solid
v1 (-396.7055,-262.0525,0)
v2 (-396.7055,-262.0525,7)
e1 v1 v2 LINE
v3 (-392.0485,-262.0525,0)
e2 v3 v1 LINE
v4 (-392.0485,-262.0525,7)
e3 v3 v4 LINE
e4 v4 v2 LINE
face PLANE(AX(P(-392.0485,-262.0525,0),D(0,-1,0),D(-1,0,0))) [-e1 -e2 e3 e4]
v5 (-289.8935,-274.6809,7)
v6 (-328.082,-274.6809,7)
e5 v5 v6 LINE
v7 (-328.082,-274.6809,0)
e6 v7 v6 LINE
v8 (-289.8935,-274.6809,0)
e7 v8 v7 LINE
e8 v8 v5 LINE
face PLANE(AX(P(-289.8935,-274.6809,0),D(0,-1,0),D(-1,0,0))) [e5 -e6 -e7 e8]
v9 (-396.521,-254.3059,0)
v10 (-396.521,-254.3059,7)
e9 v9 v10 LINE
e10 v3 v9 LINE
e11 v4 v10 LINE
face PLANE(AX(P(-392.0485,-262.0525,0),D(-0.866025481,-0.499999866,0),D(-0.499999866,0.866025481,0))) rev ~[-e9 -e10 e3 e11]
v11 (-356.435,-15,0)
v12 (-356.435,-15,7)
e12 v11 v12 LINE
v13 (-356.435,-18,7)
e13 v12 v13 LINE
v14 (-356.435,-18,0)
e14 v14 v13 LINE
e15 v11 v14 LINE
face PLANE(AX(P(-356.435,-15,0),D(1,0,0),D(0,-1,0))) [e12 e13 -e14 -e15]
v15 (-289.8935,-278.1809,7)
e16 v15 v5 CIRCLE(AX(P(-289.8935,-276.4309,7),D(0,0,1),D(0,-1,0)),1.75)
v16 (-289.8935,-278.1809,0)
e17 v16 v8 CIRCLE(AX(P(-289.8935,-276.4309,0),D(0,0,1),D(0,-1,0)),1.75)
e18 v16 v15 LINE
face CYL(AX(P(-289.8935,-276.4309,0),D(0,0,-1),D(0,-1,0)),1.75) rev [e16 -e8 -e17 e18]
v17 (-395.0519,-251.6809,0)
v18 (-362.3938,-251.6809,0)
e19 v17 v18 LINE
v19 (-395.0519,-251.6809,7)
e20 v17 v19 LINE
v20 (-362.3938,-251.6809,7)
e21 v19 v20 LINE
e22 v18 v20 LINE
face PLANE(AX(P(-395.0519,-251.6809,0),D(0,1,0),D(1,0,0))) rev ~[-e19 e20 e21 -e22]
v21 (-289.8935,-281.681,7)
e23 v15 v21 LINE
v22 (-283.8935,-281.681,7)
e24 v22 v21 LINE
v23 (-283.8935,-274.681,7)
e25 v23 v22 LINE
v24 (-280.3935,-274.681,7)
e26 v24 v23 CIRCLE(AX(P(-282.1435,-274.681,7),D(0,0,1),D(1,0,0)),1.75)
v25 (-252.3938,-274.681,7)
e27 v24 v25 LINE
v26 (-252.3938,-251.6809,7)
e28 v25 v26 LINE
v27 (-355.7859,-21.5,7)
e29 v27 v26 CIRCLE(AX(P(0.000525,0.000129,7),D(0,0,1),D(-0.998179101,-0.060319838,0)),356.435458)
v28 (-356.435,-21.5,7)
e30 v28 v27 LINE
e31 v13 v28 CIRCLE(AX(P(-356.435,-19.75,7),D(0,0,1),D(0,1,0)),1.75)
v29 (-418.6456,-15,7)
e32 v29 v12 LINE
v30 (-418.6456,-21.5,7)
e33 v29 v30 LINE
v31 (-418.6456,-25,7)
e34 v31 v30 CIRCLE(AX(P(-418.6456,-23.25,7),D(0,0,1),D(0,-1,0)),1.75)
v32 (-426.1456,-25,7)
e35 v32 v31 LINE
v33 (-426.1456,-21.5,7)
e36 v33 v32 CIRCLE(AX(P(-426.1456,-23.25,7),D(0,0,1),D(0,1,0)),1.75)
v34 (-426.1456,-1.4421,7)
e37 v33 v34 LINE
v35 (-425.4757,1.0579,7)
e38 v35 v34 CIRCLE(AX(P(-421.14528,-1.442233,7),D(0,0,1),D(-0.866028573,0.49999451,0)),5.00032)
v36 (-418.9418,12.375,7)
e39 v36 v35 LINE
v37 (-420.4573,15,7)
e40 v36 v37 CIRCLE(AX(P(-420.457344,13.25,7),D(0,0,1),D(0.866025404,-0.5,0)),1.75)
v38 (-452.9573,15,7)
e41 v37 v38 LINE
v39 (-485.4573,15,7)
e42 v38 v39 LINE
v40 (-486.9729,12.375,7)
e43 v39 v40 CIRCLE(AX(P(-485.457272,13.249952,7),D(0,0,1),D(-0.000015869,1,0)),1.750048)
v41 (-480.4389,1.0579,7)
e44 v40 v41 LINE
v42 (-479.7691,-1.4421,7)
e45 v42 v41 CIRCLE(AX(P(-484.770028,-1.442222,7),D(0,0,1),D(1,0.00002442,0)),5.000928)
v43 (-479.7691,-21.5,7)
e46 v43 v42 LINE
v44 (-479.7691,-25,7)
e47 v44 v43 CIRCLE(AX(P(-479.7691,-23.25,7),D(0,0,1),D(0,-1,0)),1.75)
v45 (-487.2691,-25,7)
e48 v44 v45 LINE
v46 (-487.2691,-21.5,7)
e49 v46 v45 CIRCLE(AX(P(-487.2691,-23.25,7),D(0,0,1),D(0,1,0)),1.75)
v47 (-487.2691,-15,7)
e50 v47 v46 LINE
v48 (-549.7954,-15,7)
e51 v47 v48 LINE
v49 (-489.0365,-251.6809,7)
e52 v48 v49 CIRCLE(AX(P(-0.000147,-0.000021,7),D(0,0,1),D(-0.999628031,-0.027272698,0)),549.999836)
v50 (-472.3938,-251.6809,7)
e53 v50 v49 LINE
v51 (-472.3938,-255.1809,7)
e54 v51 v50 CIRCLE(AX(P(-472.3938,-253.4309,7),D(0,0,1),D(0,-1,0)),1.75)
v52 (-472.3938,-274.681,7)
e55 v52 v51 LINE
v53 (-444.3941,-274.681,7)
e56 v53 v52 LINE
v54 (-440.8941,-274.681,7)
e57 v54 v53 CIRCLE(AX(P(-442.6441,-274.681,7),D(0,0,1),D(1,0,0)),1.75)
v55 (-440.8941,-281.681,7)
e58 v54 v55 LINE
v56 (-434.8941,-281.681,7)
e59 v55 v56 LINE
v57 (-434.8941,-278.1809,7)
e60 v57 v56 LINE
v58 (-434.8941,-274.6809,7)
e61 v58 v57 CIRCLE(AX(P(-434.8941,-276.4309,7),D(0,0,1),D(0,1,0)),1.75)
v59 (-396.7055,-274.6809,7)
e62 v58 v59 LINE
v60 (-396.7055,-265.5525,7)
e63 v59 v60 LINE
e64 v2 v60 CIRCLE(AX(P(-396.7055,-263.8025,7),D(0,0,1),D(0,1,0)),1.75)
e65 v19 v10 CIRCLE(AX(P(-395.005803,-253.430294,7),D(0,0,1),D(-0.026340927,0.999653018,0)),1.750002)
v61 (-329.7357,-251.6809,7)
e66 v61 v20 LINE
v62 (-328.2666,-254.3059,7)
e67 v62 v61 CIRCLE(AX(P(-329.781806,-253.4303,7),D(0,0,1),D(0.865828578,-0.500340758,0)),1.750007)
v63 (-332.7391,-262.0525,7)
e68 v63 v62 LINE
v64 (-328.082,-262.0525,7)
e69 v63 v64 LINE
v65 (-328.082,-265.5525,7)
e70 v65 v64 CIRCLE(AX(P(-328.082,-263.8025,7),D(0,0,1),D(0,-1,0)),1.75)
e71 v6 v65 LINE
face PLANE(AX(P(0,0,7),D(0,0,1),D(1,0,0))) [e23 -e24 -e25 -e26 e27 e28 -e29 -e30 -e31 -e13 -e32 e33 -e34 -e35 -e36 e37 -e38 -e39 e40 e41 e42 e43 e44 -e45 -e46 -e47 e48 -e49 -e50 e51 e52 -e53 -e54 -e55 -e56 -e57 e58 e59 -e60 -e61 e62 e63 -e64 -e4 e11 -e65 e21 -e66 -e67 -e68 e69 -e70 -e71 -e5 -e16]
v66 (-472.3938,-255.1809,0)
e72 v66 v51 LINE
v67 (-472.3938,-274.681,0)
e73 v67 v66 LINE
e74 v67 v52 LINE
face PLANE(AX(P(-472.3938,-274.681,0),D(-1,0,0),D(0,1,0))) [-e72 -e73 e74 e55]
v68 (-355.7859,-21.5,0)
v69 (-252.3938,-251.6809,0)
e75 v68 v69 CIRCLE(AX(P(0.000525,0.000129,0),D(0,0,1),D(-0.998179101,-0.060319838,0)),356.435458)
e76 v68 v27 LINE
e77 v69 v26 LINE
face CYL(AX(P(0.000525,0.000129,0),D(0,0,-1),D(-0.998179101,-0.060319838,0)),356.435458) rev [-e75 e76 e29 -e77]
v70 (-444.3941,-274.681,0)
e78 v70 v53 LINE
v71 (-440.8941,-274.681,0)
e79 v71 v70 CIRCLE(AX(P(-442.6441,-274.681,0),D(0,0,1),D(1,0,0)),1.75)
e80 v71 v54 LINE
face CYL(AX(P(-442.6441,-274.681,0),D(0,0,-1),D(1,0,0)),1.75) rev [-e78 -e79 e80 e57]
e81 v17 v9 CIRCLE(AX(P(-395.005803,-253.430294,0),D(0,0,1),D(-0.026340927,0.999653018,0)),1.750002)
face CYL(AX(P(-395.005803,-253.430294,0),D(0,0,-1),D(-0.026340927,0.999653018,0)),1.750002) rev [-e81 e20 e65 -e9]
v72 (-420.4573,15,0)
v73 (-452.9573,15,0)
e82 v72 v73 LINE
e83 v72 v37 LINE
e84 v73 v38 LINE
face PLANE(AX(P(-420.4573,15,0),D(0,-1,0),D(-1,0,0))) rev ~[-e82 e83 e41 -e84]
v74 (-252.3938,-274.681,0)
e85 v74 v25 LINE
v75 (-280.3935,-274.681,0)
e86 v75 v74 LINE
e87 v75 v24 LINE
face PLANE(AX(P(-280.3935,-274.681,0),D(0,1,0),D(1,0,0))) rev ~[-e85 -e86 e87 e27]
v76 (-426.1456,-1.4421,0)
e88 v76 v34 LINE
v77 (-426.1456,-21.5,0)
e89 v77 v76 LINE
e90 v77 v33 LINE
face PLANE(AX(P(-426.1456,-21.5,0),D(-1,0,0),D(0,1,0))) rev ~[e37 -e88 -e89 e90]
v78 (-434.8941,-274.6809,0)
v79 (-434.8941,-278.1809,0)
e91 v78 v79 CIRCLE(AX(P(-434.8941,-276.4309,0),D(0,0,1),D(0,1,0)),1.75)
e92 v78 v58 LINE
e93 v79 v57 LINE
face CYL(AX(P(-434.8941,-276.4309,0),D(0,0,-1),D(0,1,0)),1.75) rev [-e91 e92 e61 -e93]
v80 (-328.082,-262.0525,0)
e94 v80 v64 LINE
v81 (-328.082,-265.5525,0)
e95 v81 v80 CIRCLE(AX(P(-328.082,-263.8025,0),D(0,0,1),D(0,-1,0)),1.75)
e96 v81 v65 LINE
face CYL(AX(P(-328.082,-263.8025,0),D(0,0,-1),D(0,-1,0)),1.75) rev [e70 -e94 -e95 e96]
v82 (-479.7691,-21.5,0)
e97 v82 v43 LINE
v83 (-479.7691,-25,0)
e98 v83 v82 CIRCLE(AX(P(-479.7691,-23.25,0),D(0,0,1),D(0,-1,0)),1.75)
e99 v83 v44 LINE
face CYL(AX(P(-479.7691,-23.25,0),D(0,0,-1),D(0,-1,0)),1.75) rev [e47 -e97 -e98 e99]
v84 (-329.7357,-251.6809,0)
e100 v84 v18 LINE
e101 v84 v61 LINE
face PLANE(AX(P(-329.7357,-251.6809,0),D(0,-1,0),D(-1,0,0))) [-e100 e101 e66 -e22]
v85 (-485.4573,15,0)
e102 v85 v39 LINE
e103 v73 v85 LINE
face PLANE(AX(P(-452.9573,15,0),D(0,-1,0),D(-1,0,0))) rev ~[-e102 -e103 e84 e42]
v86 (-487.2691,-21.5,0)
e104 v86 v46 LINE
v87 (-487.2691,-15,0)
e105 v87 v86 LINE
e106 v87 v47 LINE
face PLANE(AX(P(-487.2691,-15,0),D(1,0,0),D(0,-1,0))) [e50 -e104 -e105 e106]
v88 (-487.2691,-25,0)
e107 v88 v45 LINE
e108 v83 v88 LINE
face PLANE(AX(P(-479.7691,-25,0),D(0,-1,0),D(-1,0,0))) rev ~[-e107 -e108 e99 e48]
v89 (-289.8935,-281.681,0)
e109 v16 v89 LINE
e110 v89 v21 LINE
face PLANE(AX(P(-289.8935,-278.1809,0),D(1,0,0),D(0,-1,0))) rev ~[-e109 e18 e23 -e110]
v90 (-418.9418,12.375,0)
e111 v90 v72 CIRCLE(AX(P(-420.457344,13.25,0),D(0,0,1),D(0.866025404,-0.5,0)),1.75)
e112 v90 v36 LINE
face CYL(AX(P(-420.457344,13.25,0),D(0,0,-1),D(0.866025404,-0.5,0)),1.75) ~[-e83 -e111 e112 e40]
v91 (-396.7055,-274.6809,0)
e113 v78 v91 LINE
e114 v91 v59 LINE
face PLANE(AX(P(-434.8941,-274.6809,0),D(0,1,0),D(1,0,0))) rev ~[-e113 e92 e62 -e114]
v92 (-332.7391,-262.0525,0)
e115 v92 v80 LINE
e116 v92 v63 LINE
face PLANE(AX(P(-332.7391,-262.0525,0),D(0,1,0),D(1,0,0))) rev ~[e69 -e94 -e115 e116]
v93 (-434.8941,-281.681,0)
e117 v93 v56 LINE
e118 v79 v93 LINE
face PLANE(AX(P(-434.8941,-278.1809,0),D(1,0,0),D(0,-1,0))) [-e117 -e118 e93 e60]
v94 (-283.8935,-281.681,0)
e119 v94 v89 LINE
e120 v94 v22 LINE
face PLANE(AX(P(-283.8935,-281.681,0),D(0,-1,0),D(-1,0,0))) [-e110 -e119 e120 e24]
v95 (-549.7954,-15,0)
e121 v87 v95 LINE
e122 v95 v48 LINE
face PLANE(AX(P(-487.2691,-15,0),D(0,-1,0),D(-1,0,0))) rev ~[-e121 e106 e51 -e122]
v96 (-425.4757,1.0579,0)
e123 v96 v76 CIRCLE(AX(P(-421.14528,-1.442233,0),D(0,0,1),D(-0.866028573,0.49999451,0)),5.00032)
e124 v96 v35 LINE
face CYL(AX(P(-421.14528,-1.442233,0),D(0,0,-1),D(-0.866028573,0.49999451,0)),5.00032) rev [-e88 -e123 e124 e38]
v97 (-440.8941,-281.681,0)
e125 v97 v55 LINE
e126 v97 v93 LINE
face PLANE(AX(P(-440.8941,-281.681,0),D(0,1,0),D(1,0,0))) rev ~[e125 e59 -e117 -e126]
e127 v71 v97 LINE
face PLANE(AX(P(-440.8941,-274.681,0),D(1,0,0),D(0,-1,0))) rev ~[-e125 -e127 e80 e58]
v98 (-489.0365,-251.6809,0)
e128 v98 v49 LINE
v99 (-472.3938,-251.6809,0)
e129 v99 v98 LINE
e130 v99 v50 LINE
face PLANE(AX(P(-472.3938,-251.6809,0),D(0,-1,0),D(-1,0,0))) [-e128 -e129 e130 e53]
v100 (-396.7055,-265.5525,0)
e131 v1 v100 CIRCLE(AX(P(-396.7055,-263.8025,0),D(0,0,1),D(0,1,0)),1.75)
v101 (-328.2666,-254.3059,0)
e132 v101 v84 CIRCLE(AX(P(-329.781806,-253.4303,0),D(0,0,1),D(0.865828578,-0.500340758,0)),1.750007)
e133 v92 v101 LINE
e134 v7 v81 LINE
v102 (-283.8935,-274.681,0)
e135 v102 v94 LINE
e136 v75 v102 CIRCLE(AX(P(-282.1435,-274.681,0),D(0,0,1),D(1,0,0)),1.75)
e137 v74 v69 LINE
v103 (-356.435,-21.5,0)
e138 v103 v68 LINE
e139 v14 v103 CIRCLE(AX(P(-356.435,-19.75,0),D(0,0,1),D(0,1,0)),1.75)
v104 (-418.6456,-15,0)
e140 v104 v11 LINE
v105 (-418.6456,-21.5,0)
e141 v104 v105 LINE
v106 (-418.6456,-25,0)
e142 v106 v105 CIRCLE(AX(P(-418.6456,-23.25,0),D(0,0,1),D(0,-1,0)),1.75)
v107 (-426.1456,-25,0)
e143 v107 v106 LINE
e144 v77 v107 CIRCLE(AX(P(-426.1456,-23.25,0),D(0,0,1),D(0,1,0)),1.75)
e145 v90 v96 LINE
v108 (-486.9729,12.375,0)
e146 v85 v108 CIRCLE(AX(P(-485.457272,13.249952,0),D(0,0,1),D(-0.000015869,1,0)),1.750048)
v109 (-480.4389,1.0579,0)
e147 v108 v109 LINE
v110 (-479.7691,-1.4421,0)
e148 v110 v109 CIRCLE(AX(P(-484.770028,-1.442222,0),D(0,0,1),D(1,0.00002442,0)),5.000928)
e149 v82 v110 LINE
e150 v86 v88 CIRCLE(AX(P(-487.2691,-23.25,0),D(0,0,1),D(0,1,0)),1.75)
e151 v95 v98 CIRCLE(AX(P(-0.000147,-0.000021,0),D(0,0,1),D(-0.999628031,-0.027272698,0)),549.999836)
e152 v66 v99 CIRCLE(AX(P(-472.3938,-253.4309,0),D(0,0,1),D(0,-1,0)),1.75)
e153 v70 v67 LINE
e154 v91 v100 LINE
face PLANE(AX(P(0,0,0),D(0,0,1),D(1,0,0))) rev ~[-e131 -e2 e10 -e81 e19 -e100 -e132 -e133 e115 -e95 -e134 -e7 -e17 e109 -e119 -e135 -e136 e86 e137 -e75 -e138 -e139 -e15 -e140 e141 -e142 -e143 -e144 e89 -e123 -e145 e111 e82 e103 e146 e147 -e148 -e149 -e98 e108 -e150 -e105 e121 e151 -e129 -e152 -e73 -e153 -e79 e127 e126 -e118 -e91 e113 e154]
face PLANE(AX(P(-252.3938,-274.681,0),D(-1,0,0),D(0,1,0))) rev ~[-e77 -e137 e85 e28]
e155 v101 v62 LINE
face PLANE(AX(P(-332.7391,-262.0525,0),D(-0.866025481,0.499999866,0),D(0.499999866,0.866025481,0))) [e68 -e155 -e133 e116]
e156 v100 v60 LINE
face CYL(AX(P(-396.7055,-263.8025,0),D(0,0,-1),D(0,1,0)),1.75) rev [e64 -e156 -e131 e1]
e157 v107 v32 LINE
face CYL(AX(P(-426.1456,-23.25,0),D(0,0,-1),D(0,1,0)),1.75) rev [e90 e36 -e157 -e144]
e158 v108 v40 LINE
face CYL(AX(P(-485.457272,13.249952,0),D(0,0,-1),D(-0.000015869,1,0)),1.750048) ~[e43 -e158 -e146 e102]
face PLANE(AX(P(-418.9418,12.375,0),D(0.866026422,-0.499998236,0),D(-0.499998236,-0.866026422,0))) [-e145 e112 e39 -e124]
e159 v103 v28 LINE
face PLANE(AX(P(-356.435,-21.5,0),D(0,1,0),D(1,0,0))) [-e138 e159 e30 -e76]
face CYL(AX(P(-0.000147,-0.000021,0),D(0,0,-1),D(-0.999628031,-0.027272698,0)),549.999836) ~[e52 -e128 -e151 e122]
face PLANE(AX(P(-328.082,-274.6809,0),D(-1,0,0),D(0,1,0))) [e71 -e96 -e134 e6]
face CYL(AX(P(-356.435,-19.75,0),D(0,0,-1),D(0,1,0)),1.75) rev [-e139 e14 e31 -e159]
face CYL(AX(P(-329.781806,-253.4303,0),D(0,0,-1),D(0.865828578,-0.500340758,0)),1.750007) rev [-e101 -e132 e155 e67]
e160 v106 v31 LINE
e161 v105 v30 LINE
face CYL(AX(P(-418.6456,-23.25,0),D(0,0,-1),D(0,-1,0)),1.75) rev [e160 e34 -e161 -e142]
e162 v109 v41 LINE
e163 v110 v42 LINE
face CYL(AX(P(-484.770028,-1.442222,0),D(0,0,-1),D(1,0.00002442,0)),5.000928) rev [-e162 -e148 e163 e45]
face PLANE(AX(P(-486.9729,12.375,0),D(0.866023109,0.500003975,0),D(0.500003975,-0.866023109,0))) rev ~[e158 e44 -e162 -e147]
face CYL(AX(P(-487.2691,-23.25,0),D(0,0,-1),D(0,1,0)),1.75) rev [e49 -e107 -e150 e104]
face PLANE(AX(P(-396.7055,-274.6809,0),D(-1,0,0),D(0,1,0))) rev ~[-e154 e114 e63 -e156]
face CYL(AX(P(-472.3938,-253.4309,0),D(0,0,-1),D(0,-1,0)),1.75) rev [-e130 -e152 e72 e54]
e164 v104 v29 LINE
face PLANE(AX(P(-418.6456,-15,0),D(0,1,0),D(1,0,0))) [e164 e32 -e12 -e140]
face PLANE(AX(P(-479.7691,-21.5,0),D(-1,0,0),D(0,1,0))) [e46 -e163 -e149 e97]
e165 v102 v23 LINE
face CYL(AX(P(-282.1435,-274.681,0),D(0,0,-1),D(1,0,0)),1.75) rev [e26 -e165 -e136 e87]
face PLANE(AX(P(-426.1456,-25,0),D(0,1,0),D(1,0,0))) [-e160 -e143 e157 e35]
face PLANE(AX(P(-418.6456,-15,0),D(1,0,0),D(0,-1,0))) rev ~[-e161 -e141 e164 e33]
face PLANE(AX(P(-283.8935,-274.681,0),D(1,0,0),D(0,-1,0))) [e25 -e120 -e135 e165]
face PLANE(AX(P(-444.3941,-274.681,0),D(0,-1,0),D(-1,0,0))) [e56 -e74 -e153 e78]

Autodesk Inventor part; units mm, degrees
ref_plane "YZ Plane" through (0, 0, 0) normal (1, 0, 0) x (0, 1, 0)
ref_plane "XZ Plane" through (0, 0, 0) normal (0, 1, 0) x (-1, 0, 0)
ref_plane "XY Plane" through (0, 0, 0) normal (0, 0, 1) x (1, 0, 0)
sketch "Sketch1" plane through (0, 0, 0) normal (0, 0, 1) x (1, 0, 0)
  arc A0 (0, 550) -> (-200, 512.3475) centre (0, 0) ccw construction
  line L0 (-150, -512.3475) -> (-150, -323.3356) construction
  line L1 (-472.3938, -281.6809) -> (-252.3938, -281.6809) construction
  line L2 (-489.0365, 251.6809) -> (-252.3938, 251.6809) construction
  line L3 (-150, 323.3356) -> (-150, 512.3475) construction
  line L4 (-472.3938, 281.6809) -> (-252.3938, 281.6809) construction
  line L5 (-472.3938, -251.6809) -> (-252.3938, -251.6809) construction
  line L6 (-356.435, 15) -> (-576.435, 15) construction
  line L7 (-472.3938, -274.681) -> (-472.3938, -251.6809) construction
  line L8 (-252.3938, -281.6809) -> (-252.3938, -251.6809) construction
  line L9 (-252.3938, 281.6809) -> (-252.3938, 251.6809) construction
  line L10 (-472.3938, 281.6809) -> (-472.3938, 251.6809) construction
  line L11 (-356.435, 15) -> (-356.435, -15) construction
  line L12 (-356.435, -15) -> (-576.435, -15) construction
  line L13 (-576.435, -15) -> (-576.435, 15) construction
  arc A1 (0, 356.435) -> (-150, 323.3356) centre (0, 0) ccw construction
  arc A2 (-150, -323.3356) -> (0, -356.435) centre (0, 0) ccw construction
  arc A3 (-156.5, -512.3475) -> (-160, -512.3475) centre (-158.25, -512.3475) ccw construction
  arc A4 (-190, -512.3475) -> (-193.5, -512.3475) centre (-191.75, -512.3475) ccw construction
  line L14 (-178.75, -519.0975) -> (-175, -519.0975) construction
  line L15 (-178.75, -529.0975) -> (-175, -529.0975) construction
  line L16 (-175, -519.0975) -> (-175, -529.0975) construction
  arc A5 (-178.75, -519.0975) -> (-178.75, -522.5975) centre (-178.75, -520.8475) ccw construction
  arc A6 (-178.75, -525.5975) -> (-178.75, -529.0975) centre (-178.75, -527.3475) ccw construction
  line L17 (-171.25, -519.0975) -> (-175, -519.0975) construction
  line L18 (-171.25, -529.0975) -> (-175, -529.0975) construction
  arc A7 (-171.25, -522.5975) -> (-171.25, -519.0975) centre (-171.25, -520.8475) ccw construction
  arc A8 (-171.25, -529.0975) -> (-171.25, -525.5975) centre (-171.25, -527.3475) ccw construction
  line L19 (-252.3938, 251.6809) -> (-489.0365, 251.6809) construction
  arc A9 (-192.6667, 512.3475) -> (-190, 512.3475) centre (-191.3333, 512.3475) ccw construction
  line L20 (-157.3333, 512.3475) -> (-150, 512.3475) construction
  line L21 (-192.6667, 512.3475) -> (-200, 512.3475) construction
  arc A10 (-160, 512.3475) -> (-157.3333, 512.3475) centre (-158.6667, 512.3475) ccw construction
  line L22 (-171.25, 517.8475) -> (-175, 517.8475) construction
  line L23 (-171.25, 520.5142) -> (-171.25, 525.1809) construction
  line L24 (-161.3333, 532.3475) -> (-188.6667, 532.3475) construction
  line L25 (-190, 531.0142) -> (-190, 512.3475) construction
  line L26 (-160, 531.0142) -> (-160, 512.3475) construction
  arc A11 (-160, 531.0142) -> (-161.3333, 532.3475) centre (-161.3333, 531.0142) ccw construction
  arc A12 (-188.6667, 532.3475) -> (-190, 531.0142) centre (-188.6667, 531.0142) ccw construction
  line L27 (-171.25, 527.8475) -> (-175, 527.8475) construction
  line L28 (-175, 532.3475) -> (-175, 535.9358) construction
  line L29 (-175, 517.8475) -> (-175, 527.8475) construction
  arc A13 (-171.25, 517.8475) -> (-171.25, 520.5142) centre (-171.25, 519.1809) ccw construction
  arc A14 (-171.25, 525.1809) -> (-171.25, 527.8475) centre (-171.25, 526.5142) ccw construction
  line L30 (-178.75, 517.8475) -> (-175, 517.8475) construction
  arc A15 (-178.75, 520.5142) -> (-178.75, 517.8475) centre (-178.75, 519.1809) ccw construction
  line L31 (-178.75, 520.5142) -> (-178.75, 525.1809) construction
  arc A16 (-178.75, 527.8475) -> (-178.75, 525.1809) centre (-178.75, 526.5142) ccw construction
  line L32 (-178.75, 527.8475) -> (-175, 527.8475) construction
  arc A17 (-334.9122, -265.623) -> (-335.582, -268.123) centre (-330.582, -268.123) ccw construction
  line L33 (-328.3782, -254.3059) -> (-334.9122, -265.623) construction
  arc A18 (-328.3782, -254.3059) -> (-329.8938, -251.6809) centre (-329.8938, -253.4309) ccw construction
  line L34 (-329.8938, -251.6809) -> (-394.8938, -251.6809) construction
  line L35 (-362.3938, -251.6809) -> (-362.3938, -293.6041) construction
  arc A19 (-389.2055, -268.123) -> (-389.8754, -265.623) centre (-394.2055, -268.123) ccw construction
  arc A20 (-394.8938, -251.6809) -> (-396.4093, -254.3059) centre (-394.8938, -253.4309) ccw construction
  line L36 (-396.4093, -254.3059) -> (-389.8754, -265.623) construction
  arc A21 (-389.2055, -291.6809) -> (-389.2055, -288.1809) centre (-389.2055, -289.9309) ccw construction
  line L37 (-389.2055, -291.6809) -> (-396.7055, -291.6809) construction
  line L38 (-396.7055, -281.6809) -> (-472.3938, -281.6809) construction
  line L39 (-328.082, -281.6809) -> (-252.3938, -281.6809) construction
  line L40 (-252.3938, -287.3475) -> (-210.8964, -287.3475) construction
  arc A22 (-150, 323.3356) -> (-356.1192, -15) centre (0, 0) ccw construction
  arc A23 (-210.8964, -287.3475) -> (-150, -323.3356) centre (0, 0) ccw construction
  arc A24 (-200, 512.3475) -> (-549.7954, -15) centre (0, 0) ccw construction
  arc A25 (-472.3938, -281.6809) -> (-246.475, -491.6809) centre (0, 0) ccw construction
  line L41 (-171.25, -436.0915) -> (-171.25, -399.5915) construction
  line L42 (-178.75, -436.0915) -> (-178.75, -399.5915) construction
  line L43 (-177, -437.8415) -> (-173, -437.8415) construction
  line L44 (-177, -397.8415) -> (-173, -397.8415) construction
  arc A26 (-177, -397.8415) -> (-178.75, -399.5915) centre (-177, -399.5915) ccw construction
  arc A27 (-178.75, -436.0915) -> (-177, -437.8415) centre (-177, -436.0915) ccw construction
  arc A28 (-173, -437.8415) -> (-171.25, -436.0915) centre (-173, -436.0915) ccw construction
  arc A29 (-171.25, -399.5915) -> (-173, -397.8415) centre (-173, -399.5915) ccw construction
  line L45 (-200, -512.3475) -> (-200, -491.6809) construction
  arc A30 (-200, -491.6809) -> (-203.5, -491.6809) centre (-201.75, -491.6809) ccw construction
  line L46 (-160, -512.3475) -> (-160, -532.5975) construction
  line L47 (-161.75, -534.3475) -> (-188.25, -534.3475) construction
  line L48 (-190, -532.5975) -> (-190, -512.3475) construction
  line L49 (-171.25, -522.5975) -> (-171.25, -525.5975) construction
  line L50 (-178.75, -522.5975) -> (-178.75, -525.5975) construction
  arc A31 (-190, -532.5975) -> (-188.25, -534.3475) centre (-188.25, -532.5975) ccw construction
  arc A32 (-161.75, -534.3475) -> (-160, -532.5975) centre (-161.75, -532.5975) ccw construction
  line L51 (-156.5, -512.3475) -> (-150, -512.3475) construction
  line L52 (-193.5, -512.3475) -> (-200, -512.3475) construction
  line L53 (-203.5, -491.6809) -> (-246.475, -491.6809) construction
  arc A33 (-396.7055, -288.1809) -> (-396.7055, -291.6809) centre (-396.7055, -289.9309) ccw construction
  line L54 (-396.7055, -281.6809) -> (-396.7055, -288.1809) construction
  line L55 (-389.2055, -288.1809) -> (-389.2055, -268.123) construction
  arc A34 (-335.582, -288.1809) -> (-335.582, -291.6809) centre (-335.582, -289.9309) ccw construction
  line L56 (-335.582, -291.6809) -> (-328.082, -291.6809) construction
  arc A35 (-328.082, -291.6809) -> (-328.082, -288.1809) centre (-328.082, -289.9309) ccw construction
  line L57 (-328.082, -281.6809) -> (-328.082, -288.1809) construction
  line L58 (-335.582, -288.1809) -> (-335.582, -268.123) construction
  arc A36 (-252.3938, -283.8475) -> (-252.3938, -287.3475) centre (-252.3938, -285.5975) ccw construction
  line L59 (-252.3938, -283.8475) -> (-252.3938, -281.6809) construction
  arc A37 (-479.7691, -25) -> (-479.7691, -21.5) centre (-479.7691, -23.25) ccw
  arc A38 (-479.7691, -1.4421) -> (-480.4389, 1.0579) centre (-484.7691, -1.4421) ccw
  line L60 (-486.9729, 12.375) -> (-480.4389, 1.0579)
  arc A39 (-485.4573, 15) -> (-486.9729, 12.375) centre (-485.4573, 13.25) ccw
  line L61 (-420.4573, 15) -> (-485.4573, 15)
  arc A40 (-425.4757, 1.0579) -> (-426.1456, -1.4421) centre (-421.1456, -1.4421) ccw
  arc A41 (-418.9418, 12.375) -> (-420.4573, 15) centre (-420.4573, 13.25) ccw
  line L62 (-418.9418, 12.375) -> (-425.4757, 1.0579)
  line L63 (-452.9573, 15) -> (-452.9573, -26.9232)
  line L64 (-479.7691, -25) -> (-487.2691, -25)
  line L65 (-487.2691, -15) -> (-549.7954, -15)
  arc A42 (-487.2691, -21.5) -> (-487.2691, -25) centre (-487.2691, -23.25) ccw
  line L66 (-487.2691, -15) -> (-487.2691, -21.5)
  line L67 (-479.7691, -21.5) -> (-479.7691, -1.4421)
  line L68 (-426.1456, -21.5) -> (-426.1456, -1.4421)
  arc A43 (-426.1456, -21.5) -> (-426.1456, -25) centre (-426.1456, -23.25) ccw
  line L69 (-426.1456, -25) -> (-418.6456, -25)
  arc A44 (-418.6456, -25) -> (-418.6456, -21.5) centre (-418.6456, -23.25) ccw
  line L70 (-418.6456, -15) -> (-418.6456, -21.5)
  line L71 (276.2049, -135.3556) -> (280.6774, -127.609)
  line L72 (279.2083, -124.984) -> (246.5502, -124.984)
  arc A45 (319.0505, -151.484) -> (319.0505, -147.984) centre (319.0505, -149.734) ccw
  arc A46 (328.5476, -148.0839) -> (325.0505, -147.9841) centre (326.8005, -147.9841) ccw
  line L73 (319.0505, -147.984) -> (280.8619, -147.984)
  arc A47 (214.0502, -164.7817) -> (212.5346, -167.4067) centre (214.0502, -166.5317) ccw
  arc A48 (280.5657, -167.4067) -> (279.0502, -164.7817) centre (279.0502, -166.5317) ccw
  arc A49 (274.0318, -178.7238) -> (273.3619, -181.2238) centre (278.3619, -181.2238) ccw
  line L74 (280.5657, -167.4067) -> (274.0318, -178.7238)
  line L75 (273.3619, -201.2817) -> (273.3619, -181.2238)
  arc A50 (273.3619, -201.2817) -> (273.3619, -204.7817) centre (273.3619, -203.0317) ccw
  line L76 (273.3619, -204.7817) -> (280.8619, -204.7817)
  arc A51 (280.8619, -204.7817) -> (280.8619, -201.2817) centre (280.8619, -203.0317) ccw
  line L77 (280.8619, -194.7817) -> (280.8619, -201.2817)
  line L78 (212.2384, -194.7817) -> (212.2384, -201.2817)
  arc A52 (212.2384, -201.2817) -> (212.2384, -204.7817) centre (212.2384, -203.0317) ccw
  arc A53 (219.7384, -204.7817) -> (219.7384, -201.2817) centre (219.7384, -203.0317) ccw
  line L79 (279.0502, -164.7817) -> (214.0502, -164.7817)
  line L80 (219.7384, -201.2817) -> (219.7384, -181.2238)
  line L81 (219.7384, -204.7817) -> (212.2384, -204.7817)
  arc A54 (219.7384, -181.2238) -> (219.0686, -178.7238) centre (214.7384, -181.2238) ccw
  line L82 (212.5346, -167.4067) -> (219.0686, -178.7238)
  line L83 (212.2384, -194.7817) -> (136.5502, -194.7817)
  line L84 (280.8619, -194.7817) -> (356.5502, -194.7817)
  line L85 (325.0505, -147.9841) -> (325.0505, -154.9841)
  line L86 (325.0505, -154.9841) -> (319.0505, -154.9841)
  line L87 (319.0505, -151.484) -> (319.0505, -154.9841)
  line L88 (246.5502, -124.984) -> (246.5502, -110.6064)
  arc A55 (280.6774, -127.609) -> (279.2083, -124.984) centre (279.1622, -126.7334) ccw
  arc A56 (280.8619, -138.8556) -> (280.8619, -135.3556) centre (280.8619, -137.1056) ccw
  line L89 (276.2049, -135.3556) -> (280.8619, -135.3556)
  line L90 (246.5502, -164.7817) -> (246.5502, -170.2759)
  line L91 (280.8619, -147.984) -> (280.8619, -138.8556)
  arc A57 (168.0499, -147.9841) -> (164.5527, -148.0839) centre (166.2999, -147.9841) ccw
  arc A58 (174.0499, -147.984) -> (174.0499, -151.484) centre (174.0499, -149.734) ccw
  line L92 (213.8921, -124.984) -> (246.5502, -124.984)
  line L93 (174.0499, -147.984) -> (212.2384, -147.984)
  line L94 (216.8955, -135.3556) -> (212.423, -127.609)
  line L95 (168.0499, -147.9841) -> (168.0499, -154.9841)
  line L96 (168.0499, -154.9841) -> (174.0499, -154.9841)
  line L97 (174.0499, -151.484) -> (174.0499, -154.9841)
  arc A59 (213.8921, -124.984) -> (212.423, -127.609) centre (213.9382, -126.7334) ccw
  arc A60 (212.2384, -135.3556) -> (212.2384, -138.8556) centre (212.2384, -137.1056) ccw
  line L98 (216.8955, -135.3556) -> (212.2384, -135.3556)
  line L99 (212.2384, -147.984) -> (212.2384, -138.8556)
  arc A61 (-280.3935, -274.681) -> (-283.8935, -274.681) centre (-282.1435, -274.681) ccw
  arc A62 (-289.8935, -278.1809) -> (-289.8935, -274.6809) centre (-289.8935, -276.4309) ccw
  line L100 (-329.7357, -251.6809) -> (-362.3938, -251.6809)
  line L101 (-289.8935, -274.6809) -> (-328.082, -274.6809)
  line L102 (-332.7391, -262.0525) -> (-328.2666, -254.3059)
  line L103 (-283.8935, -274.681) -> (-283.8935, -281.681)
  line L104 (-283.8935, -281.681) -> (-289.8935, -281.681)
  line L105 (-289.8935, -278.1809) -> (-289.8935, -281.681)
  arc A63 (-328.2666, -254.3059) -> (-329.7357, -251.6809) centre (-329.7818, -253.4303) ccw
  arc A64 (-328.082, -265.5525) -> (-328.082, -262.0525) centre (-328.082, -263.8025) ccw
  line L106 (-332.7391, -262.0525) -> (-328.082, -262.0525)
  line L107 (-328.082, -274.6809) -> (-328.082, -265.5525)
  line L108 (-392.0485, -262.0525) -> (-396.7055, -262.0525)
  arc A65 (-396.7055, -262.0525) -> (-396.7055, -265.5525) centre (-396.7055, -263.8025) ccw
  line L109 (-392.0485, -262.0525) -> (-396.521, -254.3059)
  arc A66 (-395.0519, -251.6809) -> (-396.521, -254.3059) centre (-395.0058, -253.4303) ccw
  line L110 (-396.7055, -274.6809) -> (-396.7055, -265.5525)
  line L111 (-434.8941, -278.1809) -> (-434.8941, -281.681)
  line L112 (-434.8941, -274.6809) -> (-396.7055, -274.6809)
  arc A67 (-434.8941, -274.6809) -> (-434.8941, -278.1809) centre (-434.8941, -276.4309) ccw
  line L113 (-440.8941, -281.681) -> (-434.8941, -281.681)
  line L114 (-440.8941, -274.681) -> (-440.8941, -281.681)
  arc A68 (-440.8941, -274.681) -> (-444.3941, -274.681) centre (-442.6441, -274.681) ccw
  line L115 (-395.0519, -251.6809) -> (-362.3938, -251.6809)
  arc A69 (-355.7859, -21.5) -> (-252.3938, -251.6809) centre (0, 0) ccw
  arc A70 (-549.7954, -15) -> (-489.0365, -251.6809) centre (0, 0) ccw
  line L116 (-356.435, -15) -> (-356.435, -18)
  arc A71 (-356.435, -18) -> (-356.435, -21.5) centre (-356.435, -19.75) ccw
  line L117 (-356.435, -21.5) -> (-355.7859, -21.5)
  line L118 (-356.1192, -15) -> (-356.435, -15) construction
  line L119 (-356.435, -15) -> (-549.7954, -15) construction
  line L120 (-418.6456, -15) -> (-356.435, -15)
  line L121 (-444.3941, -274.681) -> (-472.3938, -274.681)
  line L122 (-280.3935, -274.681) -> (-252.3938, -274.681)
  line L123 (-252.3938, -274.7808) -> (-252.3938, -251.6809)
  arc A72 (-472.3938, -255.1809) -> (-472.3938, -251.6809) centre (-472.3938, -253.4309) ccw
  line L124 (-472.3938, -274.681) -> (-472.3938, -255.1809)
  line L125 (-472.3938, -251.6809) -> (-489.0365, -251.6809)
  point P0 (0, 512.3475)
  point P1 (0, -512.3475)
  point P2 (-190, -534.3475)
  point P3 (-160, -534.3475)
  point P4 (-59.9119, -534.1417)
  point P5 (-160, 532.3475)
  point P6 (-190, 532.3475)
  point P7 (-389.2055, -259.0142)
  point P8 (-479.7691, 7.6667)
  point P9 (328.0311, -152.0673)
  point P10 (329.3645, -149.3173)
  point P11 (219.7384, -172.1151)
  point P12 (165.0692, -152.0673)
  point P13 (163.7359, -149.3173)
  point P14 (-280.9128, -278.7642)
  point P15 (-279.5795, -276.0142)
  point P16 (-443.8747, -278.7642)
  point P17 (-445.2081, -276.0142)
  dimension "d13" = 550
  dimension "d17" = 200
  dimension "d18" = 0
  dimension "d19" = 150
  dimension "d54" = 220
  dimension "d56" = 220
  dimension "d57" = 30
  dimension "d59" = 30
  dimension "d73" = 236.6809
  dimension "d74" = 236.6809
  dimension "d75" = 576.435
  dimension "d76" = 472.3938
  dimension "d77" = 472.3938
  dimension "d78" = 30
  dimension "d81" = 220
  dimension "d82" = 252.3938
  dimension "d85" = 356.435
  dimension "d88" = 3.5
  dimension "d89" = 30
  dimension "d90" = 22
  dimension "d91" = 3.5
  dimension "d103" = 3.75
  dimension "d104" = 3.75
  dimension "d105" = 2.6667
  dimension "d106" = 30
  dimension "d107" = 20
  dimension "d108" = 2.6667
  dimension "d109" = 1.3333
  dimension "d110" = 7.3333
  dimension "d111" = 7.3333
  dimension "d112" = 7.5
  dimension "d113" = 3.75
  dimension "d114" = 3.75
  dimension "d134" = 3.5
  dimension "d135" = 65
  dimension "d136" = 65
  dimension "d137" = 7.3333
  dimension "d138" = 60
  dimension "d139" = 5
  dimension "d140" = 7.5
  dimension "d148" = 1.75
  dimension "d151" = 40
  dimension "d152" = 74.506
  dimension "d153" = 20.6667
  dimension "d154" = 3.5
  dimension "d155" = 189.012
  dimension "d159" = 1.75
  dimension "d160" = 1.75
  dimension "d161" = 1.75
  dimension "d164" = 7.5
  dimension "d168" = 21.25
  dimension "d170" = 30
  dimension "d171" = 1.75
  dimension "d172" = 10
  dimension "d173" = 3.5
  dimension "d177" = 3.5
  dimension "d178" = 65
  dimension "d179" = 65
  dimension "d180" = 7.3333
  dimension "d181" = 60
  dimension "d182" = 5
  dimension "d183" = 7.5
  dimension "d185" = 1.75
  dimension "d186" = 10
extrude "Extrusion2" add sketch "Sketch1" along normal blind 7
properties part number "Support B - V2"
